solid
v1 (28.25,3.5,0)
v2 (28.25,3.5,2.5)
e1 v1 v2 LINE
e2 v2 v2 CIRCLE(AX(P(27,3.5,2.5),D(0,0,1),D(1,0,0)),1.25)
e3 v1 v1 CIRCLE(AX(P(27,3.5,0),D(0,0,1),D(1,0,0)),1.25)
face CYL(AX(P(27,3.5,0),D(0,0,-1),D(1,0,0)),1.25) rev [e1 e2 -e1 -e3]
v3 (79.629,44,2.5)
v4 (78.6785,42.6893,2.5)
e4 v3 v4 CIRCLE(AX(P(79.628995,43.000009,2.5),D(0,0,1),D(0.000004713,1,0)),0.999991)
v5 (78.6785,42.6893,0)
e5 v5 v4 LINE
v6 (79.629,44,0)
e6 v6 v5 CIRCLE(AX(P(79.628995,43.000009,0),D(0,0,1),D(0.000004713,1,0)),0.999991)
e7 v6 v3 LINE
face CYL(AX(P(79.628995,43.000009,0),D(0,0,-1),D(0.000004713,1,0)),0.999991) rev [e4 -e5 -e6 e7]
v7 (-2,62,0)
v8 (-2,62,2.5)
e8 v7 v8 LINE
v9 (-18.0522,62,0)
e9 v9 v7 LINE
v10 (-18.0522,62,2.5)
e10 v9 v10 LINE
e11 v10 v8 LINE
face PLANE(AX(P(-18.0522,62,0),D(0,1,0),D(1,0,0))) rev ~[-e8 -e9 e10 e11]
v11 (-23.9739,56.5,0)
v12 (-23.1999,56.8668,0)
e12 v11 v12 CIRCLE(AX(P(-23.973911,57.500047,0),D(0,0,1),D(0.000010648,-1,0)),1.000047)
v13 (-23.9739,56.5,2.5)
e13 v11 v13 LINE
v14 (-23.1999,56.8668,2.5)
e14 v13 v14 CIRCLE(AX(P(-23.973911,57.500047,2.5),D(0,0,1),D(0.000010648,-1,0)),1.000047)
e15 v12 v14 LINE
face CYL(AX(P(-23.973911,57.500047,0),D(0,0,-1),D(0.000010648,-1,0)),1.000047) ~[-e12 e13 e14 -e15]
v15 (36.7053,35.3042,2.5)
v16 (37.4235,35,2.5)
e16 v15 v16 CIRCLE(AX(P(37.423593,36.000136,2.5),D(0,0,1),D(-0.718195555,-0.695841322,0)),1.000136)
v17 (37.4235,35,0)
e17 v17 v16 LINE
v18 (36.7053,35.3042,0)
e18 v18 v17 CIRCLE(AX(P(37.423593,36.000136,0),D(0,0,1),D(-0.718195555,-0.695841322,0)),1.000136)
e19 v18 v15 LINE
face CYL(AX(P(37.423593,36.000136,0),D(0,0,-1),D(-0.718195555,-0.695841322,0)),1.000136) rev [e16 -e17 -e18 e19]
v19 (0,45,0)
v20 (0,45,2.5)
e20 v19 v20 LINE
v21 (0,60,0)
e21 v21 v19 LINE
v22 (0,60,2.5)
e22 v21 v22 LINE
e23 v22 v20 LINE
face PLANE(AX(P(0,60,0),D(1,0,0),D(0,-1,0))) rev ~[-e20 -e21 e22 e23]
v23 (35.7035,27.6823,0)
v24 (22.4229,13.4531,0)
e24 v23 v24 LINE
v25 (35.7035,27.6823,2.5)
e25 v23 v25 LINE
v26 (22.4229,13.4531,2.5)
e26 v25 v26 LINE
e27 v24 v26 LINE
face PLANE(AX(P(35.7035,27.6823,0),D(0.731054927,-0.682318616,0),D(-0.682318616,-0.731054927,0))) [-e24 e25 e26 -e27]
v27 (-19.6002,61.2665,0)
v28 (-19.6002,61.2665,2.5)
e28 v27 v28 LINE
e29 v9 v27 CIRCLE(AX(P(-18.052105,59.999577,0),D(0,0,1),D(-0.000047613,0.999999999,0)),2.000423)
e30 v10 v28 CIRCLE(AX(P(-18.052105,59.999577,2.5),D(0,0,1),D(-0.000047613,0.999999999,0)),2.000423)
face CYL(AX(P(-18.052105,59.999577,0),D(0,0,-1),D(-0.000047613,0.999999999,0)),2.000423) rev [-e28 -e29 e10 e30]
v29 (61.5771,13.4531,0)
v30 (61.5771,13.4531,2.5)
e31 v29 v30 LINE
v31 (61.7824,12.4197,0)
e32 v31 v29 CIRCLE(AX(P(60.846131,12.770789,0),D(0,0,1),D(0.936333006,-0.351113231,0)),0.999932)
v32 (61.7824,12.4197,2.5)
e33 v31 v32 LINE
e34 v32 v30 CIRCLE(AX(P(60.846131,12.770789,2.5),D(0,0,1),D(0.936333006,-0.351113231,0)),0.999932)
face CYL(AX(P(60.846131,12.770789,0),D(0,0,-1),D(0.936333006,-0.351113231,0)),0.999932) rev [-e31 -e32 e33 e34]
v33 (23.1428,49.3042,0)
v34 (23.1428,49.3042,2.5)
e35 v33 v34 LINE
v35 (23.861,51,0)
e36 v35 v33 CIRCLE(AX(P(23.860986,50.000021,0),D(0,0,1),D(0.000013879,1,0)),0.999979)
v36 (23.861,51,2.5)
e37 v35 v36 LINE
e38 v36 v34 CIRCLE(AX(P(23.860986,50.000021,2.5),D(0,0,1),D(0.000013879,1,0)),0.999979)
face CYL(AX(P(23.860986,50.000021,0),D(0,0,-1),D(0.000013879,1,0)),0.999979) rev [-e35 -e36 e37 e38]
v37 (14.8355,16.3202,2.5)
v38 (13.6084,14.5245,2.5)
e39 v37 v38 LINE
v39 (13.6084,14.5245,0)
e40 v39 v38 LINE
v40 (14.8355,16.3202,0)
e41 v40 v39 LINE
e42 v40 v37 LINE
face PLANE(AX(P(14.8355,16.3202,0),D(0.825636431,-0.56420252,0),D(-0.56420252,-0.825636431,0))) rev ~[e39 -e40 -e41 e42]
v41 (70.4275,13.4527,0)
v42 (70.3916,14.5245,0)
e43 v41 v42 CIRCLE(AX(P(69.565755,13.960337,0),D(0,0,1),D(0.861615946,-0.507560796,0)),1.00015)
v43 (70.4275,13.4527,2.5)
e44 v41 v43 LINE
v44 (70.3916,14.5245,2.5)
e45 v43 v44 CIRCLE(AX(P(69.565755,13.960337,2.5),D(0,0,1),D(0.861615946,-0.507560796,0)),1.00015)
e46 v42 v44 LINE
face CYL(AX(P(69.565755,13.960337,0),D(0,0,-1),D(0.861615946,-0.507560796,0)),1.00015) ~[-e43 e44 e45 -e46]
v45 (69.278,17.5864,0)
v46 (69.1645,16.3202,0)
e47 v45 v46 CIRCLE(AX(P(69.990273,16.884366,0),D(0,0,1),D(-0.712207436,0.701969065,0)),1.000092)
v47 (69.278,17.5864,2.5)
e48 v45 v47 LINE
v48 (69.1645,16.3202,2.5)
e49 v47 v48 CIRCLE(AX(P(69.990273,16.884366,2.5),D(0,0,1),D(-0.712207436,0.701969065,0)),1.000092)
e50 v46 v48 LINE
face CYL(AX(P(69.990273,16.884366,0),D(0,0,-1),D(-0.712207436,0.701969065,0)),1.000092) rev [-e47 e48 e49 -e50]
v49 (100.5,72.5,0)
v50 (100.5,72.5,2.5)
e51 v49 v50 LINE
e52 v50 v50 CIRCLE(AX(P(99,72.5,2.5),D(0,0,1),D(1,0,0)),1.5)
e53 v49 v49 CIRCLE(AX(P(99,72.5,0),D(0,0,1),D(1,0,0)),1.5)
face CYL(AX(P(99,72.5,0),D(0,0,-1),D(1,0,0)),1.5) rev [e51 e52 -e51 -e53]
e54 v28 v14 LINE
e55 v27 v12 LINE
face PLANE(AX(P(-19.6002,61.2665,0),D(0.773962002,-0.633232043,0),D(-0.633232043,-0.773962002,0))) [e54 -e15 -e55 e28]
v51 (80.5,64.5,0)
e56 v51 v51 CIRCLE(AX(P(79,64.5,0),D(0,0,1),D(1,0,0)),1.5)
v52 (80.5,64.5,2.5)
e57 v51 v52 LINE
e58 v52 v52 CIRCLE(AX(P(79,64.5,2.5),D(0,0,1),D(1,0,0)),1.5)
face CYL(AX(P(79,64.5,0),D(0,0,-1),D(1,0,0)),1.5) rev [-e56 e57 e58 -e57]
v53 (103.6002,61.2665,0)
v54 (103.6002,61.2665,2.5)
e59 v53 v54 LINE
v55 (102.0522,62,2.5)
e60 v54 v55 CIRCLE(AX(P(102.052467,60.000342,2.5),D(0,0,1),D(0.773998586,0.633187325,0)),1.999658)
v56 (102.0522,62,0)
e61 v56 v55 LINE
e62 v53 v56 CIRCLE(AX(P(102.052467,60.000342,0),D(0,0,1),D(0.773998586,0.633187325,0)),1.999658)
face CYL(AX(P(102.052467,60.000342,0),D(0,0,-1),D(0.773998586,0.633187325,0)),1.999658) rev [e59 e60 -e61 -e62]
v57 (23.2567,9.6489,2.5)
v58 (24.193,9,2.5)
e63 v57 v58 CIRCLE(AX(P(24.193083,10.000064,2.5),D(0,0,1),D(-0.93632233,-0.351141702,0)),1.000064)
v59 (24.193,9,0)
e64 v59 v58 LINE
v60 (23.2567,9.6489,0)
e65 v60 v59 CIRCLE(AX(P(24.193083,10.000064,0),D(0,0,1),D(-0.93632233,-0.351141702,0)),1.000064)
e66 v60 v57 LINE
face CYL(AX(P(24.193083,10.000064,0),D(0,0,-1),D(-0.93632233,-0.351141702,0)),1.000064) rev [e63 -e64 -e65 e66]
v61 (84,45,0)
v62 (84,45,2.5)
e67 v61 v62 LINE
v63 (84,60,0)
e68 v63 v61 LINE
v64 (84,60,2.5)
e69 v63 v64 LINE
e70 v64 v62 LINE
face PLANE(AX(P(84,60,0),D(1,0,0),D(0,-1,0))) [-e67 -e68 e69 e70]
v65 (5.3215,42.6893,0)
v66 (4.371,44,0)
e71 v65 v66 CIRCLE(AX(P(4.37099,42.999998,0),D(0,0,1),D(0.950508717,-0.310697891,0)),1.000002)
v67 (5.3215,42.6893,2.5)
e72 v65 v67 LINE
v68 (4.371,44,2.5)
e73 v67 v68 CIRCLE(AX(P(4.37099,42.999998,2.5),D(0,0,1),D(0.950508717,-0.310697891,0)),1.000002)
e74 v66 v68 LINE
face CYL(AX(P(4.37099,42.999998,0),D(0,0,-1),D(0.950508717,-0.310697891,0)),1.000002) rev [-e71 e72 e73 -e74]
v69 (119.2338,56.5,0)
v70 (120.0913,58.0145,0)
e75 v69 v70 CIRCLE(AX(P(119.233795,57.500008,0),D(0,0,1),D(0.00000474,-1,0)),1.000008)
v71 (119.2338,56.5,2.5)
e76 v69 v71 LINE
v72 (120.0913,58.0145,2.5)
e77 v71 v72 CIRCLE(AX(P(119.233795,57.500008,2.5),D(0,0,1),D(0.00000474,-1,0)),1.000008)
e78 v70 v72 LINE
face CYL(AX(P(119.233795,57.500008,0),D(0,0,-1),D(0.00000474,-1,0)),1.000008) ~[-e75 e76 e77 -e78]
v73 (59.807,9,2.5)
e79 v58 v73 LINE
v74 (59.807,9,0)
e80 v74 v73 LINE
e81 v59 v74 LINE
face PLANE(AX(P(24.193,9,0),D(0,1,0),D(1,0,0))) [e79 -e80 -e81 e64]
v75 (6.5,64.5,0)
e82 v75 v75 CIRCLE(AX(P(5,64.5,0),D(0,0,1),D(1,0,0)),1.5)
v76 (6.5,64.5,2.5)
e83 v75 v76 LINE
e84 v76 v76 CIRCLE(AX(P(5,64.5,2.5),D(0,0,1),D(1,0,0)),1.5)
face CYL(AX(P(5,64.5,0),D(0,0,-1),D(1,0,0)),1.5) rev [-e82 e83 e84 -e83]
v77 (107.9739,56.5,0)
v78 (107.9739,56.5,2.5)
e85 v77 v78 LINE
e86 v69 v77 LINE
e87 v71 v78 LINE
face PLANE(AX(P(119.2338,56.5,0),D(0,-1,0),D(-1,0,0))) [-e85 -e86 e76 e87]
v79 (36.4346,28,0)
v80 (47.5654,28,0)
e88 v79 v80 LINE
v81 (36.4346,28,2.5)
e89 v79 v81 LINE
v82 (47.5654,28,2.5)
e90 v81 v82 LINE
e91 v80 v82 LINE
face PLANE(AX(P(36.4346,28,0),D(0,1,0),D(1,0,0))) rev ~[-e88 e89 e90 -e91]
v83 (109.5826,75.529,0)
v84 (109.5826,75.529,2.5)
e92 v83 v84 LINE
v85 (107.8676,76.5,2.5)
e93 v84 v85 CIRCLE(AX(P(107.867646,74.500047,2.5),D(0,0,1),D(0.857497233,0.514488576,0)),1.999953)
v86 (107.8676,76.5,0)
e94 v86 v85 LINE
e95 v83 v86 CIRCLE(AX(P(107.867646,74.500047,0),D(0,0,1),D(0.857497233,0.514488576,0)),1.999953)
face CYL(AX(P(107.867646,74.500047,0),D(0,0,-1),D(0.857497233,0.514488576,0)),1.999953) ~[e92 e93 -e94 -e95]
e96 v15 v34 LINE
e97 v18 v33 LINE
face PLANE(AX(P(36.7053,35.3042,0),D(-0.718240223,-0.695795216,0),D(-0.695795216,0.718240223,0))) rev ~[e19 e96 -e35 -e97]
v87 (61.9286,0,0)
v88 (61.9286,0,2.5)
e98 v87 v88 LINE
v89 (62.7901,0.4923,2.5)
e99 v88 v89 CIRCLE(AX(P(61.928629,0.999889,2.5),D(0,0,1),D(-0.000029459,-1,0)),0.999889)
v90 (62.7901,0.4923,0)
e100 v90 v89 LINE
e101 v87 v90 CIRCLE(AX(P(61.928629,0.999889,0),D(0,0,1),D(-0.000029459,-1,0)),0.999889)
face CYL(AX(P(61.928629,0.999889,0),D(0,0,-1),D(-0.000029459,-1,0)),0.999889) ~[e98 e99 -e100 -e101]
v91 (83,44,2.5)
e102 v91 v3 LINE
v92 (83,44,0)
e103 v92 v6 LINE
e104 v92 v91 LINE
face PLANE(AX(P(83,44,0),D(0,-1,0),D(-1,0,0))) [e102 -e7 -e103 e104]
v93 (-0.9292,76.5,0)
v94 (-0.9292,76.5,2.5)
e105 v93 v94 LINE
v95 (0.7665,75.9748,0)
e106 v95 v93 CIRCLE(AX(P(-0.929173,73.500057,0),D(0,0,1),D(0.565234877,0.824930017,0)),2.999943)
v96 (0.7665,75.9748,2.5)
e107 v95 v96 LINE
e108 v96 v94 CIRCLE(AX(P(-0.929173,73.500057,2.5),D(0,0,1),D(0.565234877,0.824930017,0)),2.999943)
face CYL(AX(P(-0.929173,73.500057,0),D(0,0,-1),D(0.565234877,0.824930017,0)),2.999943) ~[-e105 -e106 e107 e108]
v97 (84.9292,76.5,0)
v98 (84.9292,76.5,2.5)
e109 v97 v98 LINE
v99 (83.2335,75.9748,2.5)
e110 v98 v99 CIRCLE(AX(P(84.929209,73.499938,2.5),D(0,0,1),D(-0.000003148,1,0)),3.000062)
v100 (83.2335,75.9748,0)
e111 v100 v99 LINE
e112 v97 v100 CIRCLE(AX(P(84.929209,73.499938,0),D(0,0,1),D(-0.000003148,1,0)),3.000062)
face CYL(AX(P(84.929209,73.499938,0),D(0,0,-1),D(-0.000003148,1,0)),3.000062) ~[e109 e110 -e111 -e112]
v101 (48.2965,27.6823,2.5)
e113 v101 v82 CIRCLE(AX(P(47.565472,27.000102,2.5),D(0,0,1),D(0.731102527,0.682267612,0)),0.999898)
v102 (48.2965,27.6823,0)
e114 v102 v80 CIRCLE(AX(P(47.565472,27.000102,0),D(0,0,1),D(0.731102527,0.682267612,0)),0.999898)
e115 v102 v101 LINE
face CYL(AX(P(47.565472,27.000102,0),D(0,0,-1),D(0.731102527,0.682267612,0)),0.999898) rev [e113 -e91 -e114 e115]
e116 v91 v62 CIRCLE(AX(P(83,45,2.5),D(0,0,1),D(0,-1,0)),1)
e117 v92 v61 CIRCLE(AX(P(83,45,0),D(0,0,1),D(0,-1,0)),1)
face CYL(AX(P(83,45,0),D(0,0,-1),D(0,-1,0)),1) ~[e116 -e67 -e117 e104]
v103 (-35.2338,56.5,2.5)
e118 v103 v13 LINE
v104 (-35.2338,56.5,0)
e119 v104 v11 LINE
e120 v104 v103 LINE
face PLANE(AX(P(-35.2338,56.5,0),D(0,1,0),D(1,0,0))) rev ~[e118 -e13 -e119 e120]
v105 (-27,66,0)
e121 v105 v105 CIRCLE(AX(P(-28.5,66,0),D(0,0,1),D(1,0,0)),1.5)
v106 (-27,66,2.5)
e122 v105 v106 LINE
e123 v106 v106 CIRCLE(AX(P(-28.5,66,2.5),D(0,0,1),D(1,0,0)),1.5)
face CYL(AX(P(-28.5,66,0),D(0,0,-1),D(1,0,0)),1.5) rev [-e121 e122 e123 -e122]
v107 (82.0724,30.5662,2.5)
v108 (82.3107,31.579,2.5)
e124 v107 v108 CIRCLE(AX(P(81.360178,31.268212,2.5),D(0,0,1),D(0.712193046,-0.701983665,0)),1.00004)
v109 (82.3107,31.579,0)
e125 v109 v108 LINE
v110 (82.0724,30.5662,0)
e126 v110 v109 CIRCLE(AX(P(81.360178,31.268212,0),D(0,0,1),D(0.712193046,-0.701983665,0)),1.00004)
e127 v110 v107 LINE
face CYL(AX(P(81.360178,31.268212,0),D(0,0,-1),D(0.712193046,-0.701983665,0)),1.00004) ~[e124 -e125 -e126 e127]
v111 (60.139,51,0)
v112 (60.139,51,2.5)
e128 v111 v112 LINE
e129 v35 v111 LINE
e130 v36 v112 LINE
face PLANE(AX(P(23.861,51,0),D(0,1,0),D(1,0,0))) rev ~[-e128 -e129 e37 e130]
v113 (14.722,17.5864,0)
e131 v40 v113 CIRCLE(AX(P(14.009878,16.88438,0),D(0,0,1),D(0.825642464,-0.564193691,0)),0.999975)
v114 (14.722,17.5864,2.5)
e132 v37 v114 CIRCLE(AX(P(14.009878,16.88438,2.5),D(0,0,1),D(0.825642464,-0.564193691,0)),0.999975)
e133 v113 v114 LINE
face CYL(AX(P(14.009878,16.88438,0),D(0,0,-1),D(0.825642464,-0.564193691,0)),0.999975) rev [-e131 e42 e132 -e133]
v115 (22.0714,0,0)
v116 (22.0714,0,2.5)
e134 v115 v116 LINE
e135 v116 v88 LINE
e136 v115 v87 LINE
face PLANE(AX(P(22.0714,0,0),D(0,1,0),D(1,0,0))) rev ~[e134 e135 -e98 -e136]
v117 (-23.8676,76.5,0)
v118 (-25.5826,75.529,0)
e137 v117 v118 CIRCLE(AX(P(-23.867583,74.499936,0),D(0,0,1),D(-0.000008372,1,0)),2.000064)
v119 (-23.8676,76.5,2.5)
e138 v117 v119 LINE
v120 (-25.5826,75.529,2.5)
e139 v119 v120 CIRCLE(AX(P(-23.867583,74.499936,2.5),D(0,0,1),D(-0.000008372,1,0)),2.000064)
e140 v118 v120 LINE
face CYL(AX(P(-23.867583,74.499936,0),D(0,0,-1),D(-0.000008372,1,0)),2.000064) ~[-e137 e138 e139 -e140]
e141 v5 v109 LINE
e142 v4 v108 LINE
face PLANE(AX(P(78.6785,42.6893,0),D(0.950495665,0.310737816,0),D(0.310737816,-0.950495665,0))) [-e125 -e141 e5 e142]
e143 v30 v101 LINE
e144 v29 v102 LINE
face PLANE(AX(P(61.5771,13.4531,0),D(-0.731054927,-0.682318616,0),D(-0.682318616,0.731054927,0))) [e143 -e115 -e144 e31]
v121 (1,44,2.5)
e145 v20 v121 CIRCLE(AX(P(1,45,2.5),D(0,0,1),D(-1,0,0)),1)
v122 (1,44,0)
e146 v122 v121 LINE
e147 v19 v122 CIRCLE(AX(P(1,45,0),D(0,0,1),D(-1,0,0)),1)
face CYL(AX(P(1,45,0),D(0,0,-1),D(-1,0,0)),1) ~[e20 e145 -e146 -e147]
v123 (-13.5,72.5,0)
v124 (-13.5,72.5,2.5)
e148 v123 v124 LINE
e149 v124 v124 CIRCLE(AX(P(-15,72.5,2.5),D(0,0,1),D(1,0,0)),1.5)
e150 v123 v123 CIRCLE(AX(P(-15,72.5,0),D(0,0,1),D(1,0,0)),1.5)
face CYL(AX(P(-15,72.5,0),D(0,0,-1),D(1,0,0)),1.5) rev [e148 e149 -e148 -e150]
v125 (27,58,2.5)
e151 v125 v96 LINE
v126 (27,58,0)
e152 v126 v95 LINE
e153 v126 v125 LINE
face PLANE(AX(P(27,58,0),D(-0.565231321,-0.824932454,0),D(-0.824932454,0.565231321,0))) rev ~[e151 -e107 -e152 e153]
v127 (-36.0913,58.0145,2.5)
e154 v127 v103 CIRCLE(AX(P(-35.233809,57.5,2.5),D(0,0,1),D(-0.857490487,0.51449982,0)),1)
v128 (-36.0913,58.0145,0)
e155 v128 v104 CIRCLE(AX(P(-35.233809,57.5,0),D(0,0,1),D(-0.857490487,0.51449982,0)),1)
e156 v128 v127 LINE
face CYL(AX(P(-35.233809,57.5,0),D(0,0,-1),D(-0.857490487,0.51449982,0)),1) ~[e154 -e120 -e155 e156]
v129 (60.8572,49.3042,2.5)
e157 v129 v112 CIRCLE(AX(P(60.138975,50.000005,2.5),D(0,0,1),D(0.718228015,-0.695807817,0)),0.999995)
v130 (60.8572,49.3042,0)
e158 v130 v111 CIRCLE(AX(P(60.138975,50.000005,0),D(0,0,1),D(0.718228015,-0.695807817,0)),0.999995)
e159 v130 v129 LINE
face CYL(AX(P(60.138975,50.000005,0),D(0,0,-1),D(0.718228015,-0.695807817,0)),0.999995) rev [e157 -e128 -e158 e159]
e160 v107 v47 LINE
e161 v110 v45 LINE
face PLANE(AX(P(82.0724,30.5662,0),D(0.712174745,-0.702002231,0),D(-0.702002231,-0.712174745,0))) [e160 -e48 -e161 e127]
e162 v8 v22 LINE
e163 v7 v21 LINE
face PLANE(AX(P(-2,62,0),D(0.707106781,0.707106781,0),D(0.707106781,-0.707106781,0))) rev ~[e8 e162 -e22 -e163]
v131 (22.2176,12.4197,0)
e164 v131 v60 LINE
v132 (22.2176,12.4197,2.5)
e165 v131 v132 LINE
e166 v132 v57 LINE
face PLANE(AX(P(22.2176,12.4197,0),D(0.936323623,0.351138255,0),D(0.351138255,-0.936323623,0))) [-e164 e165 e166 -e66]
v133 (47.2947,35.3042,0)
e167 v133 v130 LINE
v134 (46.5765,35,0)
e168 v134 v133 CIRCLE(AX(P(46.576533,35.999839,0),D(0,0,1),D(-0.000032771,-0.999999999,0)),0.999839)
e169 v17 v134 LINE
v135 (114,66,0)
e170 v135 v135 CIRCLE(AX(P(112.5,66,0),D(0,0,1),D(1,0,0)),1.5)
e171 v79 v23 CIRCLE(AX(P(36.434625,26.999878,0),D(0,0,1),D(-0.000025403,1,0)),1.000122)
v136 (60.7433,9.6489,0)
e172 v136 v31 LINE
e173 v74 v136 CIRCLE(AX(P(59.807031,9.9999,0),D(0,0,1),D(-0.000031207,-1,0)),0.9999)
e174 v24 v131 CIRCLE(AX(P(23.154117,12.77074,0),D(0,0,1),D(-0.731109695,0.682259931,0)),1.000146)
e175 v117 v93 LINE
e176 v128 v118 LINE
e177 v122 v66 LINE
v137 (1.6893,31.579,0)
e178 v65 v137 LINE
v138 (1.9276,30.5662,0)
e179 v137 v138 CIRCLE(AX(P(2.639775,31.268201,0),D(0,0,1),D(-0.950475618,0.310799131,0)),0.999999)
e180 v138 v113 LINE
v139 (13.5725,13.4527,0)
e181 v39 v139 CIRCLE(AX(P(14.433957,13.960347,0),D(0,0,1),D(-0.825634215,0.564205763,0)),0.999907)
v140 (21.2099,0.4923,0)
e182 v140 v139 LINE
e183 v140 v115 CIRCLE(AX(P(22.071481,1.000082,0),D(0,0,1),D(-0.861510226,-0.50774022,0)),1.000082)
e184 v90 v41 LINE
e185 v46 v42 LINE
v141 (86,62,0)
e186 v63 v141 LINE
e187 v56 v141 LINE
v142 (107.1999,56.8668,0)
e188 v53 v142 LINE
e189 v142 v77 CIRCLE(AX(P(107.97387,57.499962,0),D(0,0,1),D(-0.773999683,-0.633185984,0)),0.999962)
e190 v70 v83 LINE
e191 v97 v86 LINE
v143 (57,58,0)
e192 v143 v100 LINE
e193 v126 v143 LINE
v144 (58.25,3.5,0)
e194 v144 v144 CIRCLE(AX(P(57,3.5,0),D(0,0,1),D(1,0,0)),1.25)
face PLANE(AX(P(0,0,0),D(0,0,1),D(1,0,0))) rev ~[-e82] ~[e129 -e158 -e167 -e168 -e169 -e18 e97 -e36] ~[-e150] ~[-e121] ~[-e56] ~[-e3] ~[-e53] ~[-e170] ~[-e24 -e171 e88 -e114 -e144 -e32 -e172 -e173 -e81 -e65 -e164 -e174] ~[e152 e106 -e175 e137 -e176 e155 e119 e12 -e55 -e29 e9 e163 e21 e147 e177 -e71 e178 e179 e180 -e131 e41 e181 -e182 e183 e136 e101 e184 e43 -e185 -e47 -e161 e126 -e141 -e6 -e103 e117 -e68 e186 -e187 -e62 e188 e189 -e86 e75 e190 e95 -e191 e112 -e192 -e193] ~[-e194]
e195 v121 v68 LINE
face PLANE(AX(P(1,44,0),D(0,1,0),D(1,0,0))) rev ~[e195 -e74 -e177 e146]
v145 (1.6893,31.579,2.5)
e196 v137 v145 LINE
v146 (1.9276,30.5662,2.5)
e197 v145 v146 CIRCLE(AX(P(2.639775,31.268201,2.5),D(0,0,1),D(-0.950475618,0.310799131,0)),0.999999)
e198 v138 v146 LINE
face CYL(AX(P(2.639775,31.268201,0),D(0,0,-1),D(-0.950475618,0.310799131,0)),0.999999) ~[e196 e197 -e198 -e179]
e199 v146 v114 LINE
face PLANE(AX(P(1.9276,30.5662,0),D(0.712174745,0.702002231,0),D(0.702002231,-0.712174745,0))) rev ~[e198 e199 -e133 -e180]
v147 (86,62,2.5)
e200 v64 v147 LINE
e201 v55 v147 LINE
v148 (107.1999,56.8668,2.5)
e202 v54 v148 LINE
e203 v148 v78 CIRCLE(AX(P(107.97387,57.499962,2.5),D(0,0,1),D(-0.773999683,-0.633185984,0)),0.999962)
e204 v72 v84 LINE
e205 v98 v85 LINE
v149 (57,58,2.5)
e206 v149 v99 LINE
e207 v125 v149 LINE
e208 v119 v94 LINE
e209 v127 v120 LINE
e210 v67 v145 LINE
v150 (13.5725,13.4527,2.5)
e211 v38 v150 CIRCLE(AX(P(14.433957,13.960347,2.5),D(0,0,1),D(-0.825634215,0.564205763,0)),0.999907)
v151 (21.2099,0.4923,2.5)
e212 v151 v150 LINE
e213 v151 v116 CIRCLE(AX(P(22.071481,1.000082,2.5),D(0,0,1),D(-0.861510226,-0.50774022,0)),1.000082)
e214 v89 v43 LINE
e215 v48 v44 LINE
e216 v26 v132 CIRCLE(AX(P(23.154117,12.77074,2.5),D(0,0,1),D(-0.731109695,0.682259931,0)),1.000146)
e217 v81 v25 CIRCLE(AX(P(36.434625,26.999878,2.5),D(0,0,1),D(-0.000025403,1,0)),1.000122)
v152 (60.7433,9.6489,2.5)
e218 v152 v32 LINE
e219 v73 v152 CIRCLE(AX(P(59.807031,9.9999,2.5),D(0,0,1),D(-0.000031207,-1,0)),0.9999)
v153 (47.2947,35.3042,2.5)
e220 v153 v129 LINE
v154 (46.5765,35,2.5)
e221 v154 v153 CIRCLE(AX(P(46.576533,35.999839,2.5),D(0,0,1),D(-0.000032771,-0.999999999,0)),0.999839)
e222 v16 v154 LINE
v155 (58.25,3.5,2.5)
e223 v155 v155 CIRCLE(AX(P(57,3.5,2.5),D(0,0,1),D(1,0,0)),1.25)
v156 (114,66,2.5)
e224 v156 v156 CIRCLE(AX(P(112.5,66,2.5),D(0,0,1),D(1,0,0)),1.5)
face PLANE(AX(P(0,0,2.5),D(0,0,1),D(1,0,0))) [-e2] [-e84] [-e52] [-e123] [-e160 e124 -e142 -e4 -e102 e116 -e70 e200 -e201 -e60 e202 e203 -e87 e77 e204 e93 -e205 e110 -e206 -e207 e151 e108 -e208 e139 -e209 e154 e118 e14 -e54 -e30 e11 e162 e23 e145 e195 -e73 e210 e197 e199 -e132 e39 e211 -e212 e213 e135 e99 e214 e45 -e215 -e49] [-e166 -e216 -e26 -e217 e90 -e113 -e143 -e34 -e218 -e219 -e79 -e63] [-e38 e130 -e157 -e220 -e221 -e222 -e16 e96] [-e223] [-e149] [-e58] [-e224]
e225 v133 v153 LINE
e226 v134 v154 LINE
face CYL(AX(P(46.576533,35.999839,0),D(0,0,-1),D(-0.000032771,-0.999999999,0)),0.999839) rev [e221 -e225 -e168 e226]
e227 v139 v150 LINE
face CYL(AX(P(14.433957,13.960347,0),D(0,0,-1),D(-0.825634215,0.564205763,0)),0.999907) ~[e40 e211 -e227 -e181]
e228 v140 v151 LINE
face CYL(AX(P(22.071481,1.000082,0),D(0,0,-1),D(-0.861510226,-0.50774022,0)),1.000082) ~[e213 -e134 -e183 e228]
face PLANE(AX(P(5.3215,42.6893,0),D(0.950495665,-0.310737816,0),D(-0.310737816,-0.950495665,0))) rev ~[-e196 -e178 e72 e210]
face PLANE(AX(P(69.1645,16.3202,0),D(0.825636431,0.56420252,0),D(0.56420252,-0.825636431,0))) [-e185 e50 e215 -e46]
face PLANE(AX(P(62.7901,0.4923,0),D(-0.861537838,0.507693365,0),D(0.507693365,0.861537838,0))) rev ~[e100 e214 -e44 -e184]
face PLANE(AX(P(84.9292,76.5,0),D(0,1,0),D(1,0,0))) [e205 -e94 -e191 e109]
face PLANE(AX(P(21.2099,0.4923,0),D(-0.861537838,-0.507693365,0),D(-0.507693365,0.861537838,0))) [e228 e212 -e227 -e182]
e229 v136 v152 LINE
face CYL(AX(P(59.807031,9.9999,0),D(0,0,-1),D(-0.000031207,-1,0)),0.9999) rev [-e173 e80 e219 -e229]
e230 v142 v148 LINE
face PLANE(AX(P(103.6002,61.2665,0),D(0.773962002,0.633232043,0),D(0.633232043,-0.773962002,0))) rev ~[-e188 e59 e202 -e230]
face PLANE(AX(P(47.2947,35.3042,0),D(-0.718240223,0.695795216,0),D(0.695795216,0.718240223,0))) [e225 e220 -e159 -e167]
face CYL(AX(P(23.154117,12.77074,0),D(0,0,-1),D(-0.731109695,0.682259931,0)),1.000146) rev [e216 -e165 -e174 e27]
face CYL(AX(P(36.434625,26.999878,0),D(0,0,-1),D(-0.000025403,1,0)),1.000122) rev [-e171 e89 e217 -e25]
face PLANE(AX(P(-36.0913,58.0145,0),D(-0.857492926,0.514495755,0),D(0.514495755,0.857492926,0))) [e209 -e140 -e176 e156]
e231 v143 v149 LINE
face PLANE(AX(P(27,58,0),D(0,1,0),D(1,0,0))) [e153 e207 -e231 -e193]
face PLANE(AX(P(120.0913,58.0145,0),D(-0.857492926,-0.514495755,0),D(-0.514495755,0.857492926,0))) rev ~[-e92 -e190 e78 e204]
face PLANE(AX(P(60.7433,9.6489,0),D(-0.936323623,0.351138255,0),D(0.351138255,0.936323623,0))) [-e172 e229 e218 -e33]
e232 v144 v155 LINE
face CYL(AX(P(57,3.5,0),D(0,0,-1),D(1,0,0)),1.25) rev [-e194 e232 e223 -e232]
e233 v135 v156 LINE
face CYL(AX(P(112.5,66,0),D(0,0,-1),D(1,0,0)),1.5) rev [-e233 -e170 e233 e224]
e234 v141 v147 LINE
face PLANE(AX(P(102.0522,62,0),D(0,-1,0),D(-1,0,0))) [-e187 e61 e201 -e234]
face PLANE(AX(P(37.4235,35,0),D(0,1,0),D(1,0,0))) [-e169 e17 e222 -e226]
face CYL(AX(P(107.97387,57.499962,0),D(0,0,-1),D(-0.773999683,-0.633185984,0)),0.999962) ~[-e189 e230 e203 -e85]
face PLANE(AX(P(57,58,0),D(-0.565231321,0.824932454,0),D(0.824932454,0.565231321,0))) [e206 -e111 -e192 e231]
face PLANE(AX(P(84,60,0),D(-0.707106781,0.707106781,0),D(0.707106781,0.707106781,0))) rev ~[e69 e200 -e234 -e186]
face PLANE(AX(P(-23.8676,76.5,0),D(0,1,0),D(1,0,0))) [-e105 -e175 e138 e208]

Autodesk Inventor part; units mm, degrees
ref_plane "YZ Plane" through (0, 0, 0) normal (1, 0, 0) x (0, 1, 0)
ref_plane "XZ Plane" through (0, 0, 0) normal (0, 1, 0) x (-1, 0, 0)
ref_plane "XY Plane" through (0, 0, 0) normal (0, 0, 1) x (1, 0, 0)
sketch "Sketch1" plane through (0, 0, 0) normal (0, 0, 1) x (1, 0, 0)
  line L0 (0, 76.5) -> (84, 76.5) construction
  line L1 (84, 76.5) -> (84, 0) construction
  line L2 (84, 0) -> (0, 0) construction
  line L3 (0, 0) -> (0, 76.5) construction
  line L4 (-37, 76.5) -> (0, 76.5) construction
  line L5 (0, 76.5) -> (0, 62) construction
  line L6 (0, 62) -> (-37, 62) construction
  line L7 (-37, 62) -> (-37, 76.5) construction
  line L8 (84, 76.5) -> (121, 76.5) construction
  line L9 (121, 76.5) -> (121, 62) construction
  line L10 (121, 62) -> (84, 62) construction
  line L11 (84, 62) -> (84, 76.5) construction
  line L12 (27, 58) -> (57, 58)
  line L13 (27, 58) -> (0.7665, 75.9748)
  line L14 (57, 58) -> (83.2335, 75.9748)
  line L15 (13.25, 14) -> (70.75, 14) construction
  line L16 (0, 76.5) -> (-25, 76.5) construction
  line L17 (-37, 76.5) -> (-37, 56.5) construction
  line L18 (-36.0913, 58.0145) -> (-25.5826, 75.529)
  line L19 (-35.2338, 56.5) -> (-23.9739, 56.5)
  line L20 (0, 62) -> (-19, 62) construction
  line L21 (-19.6002, 61.2665) -> (-23.1999, 56.8668)
  line L22 (0, 44) -> (84, 44) construction
  line L23 (1, 44) -> (4.371, 44)
  line L24 (83, 44) -> (79.629, 44)
  line L25 (1.5, 31) -> (82.5, 31) construction
  line L26 (5.3215, 42.6893) -> (1.6893, 31.579)
  line L27 (78.6785, 42.6893) -> (82.3107, 31.579)
  line L28 (15.3, 17) -> (68.7, 17) construction
  line L29 (82.0724, 30.5662) -> (69.278, 17.5864)
  line L30 (1.9276, 30.5662) -> (14.722, 17.5864)
  line L31 (69.1645, 16.3202) -> (70.3916, 14.5245)
  line L32 (14.8355, 16.3202) -> (13.6084, 14.5245)
  line L33 (21.5, 0) -> (62.5, 0) construction
  line L34 (21.2099, 0.4923) -> (13.5725, 13.4527)
  line L35 (62.7901, 0.4923) -> (70.4275, 13.4527)
  line L36 (84, 76.5) -> (109, 76.5) construction
  line L37 (121, 76.5) -> (121, 56.5) construction
  line L38 (120.0913, 58.0145) -> (109.5826, 75.529)
  line L39 (119.2338, 56.5) -> (107.9739, 56.5)
  line L40 (84, 62) -> (103, 62) construction
  line L41 (103.6002, 61.2665) -> (107.1999, 56.8668)
  line L42 (-23.8676, 76.5) -> (-0.9292, 76.5)
  line L43 (84.9292, 76.5) -> (107.8676, 76.5)
  line L44 (-18.0522, 62) -> (-2, 62)
  line L45 (102.0522, 62) -> (86, 62)
  line L46 (0, 60) -> (0, 45)
  line L47 (84, 60) -> (84, 45)
  line L48 (22.0714, 0) -> (61.9286, 0)
  line L49 (23.861, 51) -> (60.139, 51)
  line L50 (37.4235, 35) -> (46.5765, 35)
  line L51 (47.2947, 35.3042) -> (60.8572, 49.3042)
  line L52 (36.7053, 35.3042) -> (23.1428, 49.3042)
  line L53 (36.4346, 28) -> (47.5654, 28)
  line L54 (22, 13) -> (62, 13) construction
  line L55 (24.193, 9) -> (59.807, 9)
  line L56 (60.7433, 9.6489) -> (61.7824, 12.4197)
  line L57 (61.5771, 13.4531) -> (48.2965, 27.6823)
  line L58 (35.7035, 27.6823) -> (22.4229, 13.4531)
  line L59 (22.2176, 12.4197) -> (23.2567, 9.6489)
  line L60 (-28.5, 66) -> (112.5, 66) construction
  line L61 (-15, 72.5) -> (99, 72.5) construction
  line L62 (27, 3.5) -> (57, 3.5) construction
  arc A0 (0.7665, 75.9748) -> (-0.9292, 76.5) centre (-0.9292, 73.5) ccw
  arc A1 (84.9292, 76.5) -> (83.2335, 75.9748) centre (84.9292, 73.5) ccw
  arc A2 (-23.8676, 76.5) -> (-25.5826, 75.529) centre (-23.8676, 74.5) ccw
  arc A3 (109.5826, 75.529) -> (107.8676, 76.5) centre (107.8676, 74.5) ccw
  arc A4 (119.2338, 56.5) -> (120.0913, 58.0145) centre (119.2338, 57.5) ccw
  arc A5 (-36.0913, 58.0145) -> (-35.2338, 56.5) centre (-35.2338, 57.5) ccw
  arc A6 (-23.9739, 56.5) -> (-23.1999, 56.8668) centre (-23.9739, 57.5) ccw
  arc A7 (107.1999, 56.8668) -> (107.9739, 56.5) centre (107.9739, 57.5) ccw
  arc A8 (103.6002, 61.2665) -> (102.0522, 62) centre (102.0522, 60) ccw
  arc A9 (-18.0522, 62) -> (-19.6002, 61.2665) centre (-18.0522, 60) ccw
  line L63 (-2, 62) -> (0, 60)
  line L64 (84, 60) -> (86, 62)
  arc A10 (0, 45) -> (1, 44) centre (1, 45) ccw
  arc A11 (83, 44) -> (84, 45) centre (83, 45) ccw
  arc A12 (79.629, 44) -> (78.6785, 42.6893) centre (79.629, 43) ccw
  arc A13 (5.3215, 42.6893) -> (4.371, 44) centre (4.371, 43) ccw
  arc A14 (1.6893, 31.579) -> (1.9276, 30.5662) centre (2.6398, 31.2682) ccw
  arc A15 (82.0724, 30.5662) -> (82.3107, 31.579) centre (81.3602, 31.2682) ccw
  arc A16 (69.278, 17.5864) -> (69.1645, 16.3202) centre (69.9902, 16.8844) ccw
  arc A17 (70.4275, 13.4527) -> (70.3916, 14.5245) centre (69.5659, 13.9603) ccw
  arc A18 (61.9286, 0) -> (62.7901, 0.4923) centre (61.9286, 1) ccw
  arc A19 (21.2099, 0.4923) -> (22.0714, 0) centre (22.0714, 1) ccw
  arc A20 (13.6084, 14.5245) -> (13.5725, 13.4527) centre (14.4341, 13.9603) ccw
  arc A21 (14.8355, 16.3202) -> (14.722, 17.5864) centre (14.0098, 16.8844) ccw
  arc A22 (23.2567, 9.6489) -> (24.193, 9) centre (24.193, 10) ccw
  arc A23 (22.4229, 13.4531) -> (22.2176, 12.4197) centre (23.154, 12.7708) ccw
  arc A24 (36.4346, 28) -> (35.7035, 27.6823) centre (36.4346, 27) ccw
  arc A25 (48.2965, 27.6823) -> (47.5654, 28) centre (47.5654, 27) ccw
  arc A26 (61.7824, 12.4197) -> (61.5771, 13.4531) centre (60.846, 12.7708) ccw
  arc A27 (59.807, 9) -> (60.7433, 9.6489) centre (59.807, 10) ccw
  arc A28 (23.861, 51) -> (23.1428, 49.3042) centre (23.861, 50) ccw
  arc A29 (60.8572, 49.3042) -> (60.139, 51) centre (60.139, 50) ccw
  arc A30 (46.5765, 35) -> (47.2947, 35.3042) centre (46.5765, 36) ccw
  arc A31 (36.7053, 35.3042) -> (37.4235, 35) centre (37.4235, 36) ccw
  circle A32 centre (-15, 72.5) radius 1.5
  circle A33 centre (-28.5, 66) radius 1.5
  circle A34 centre (112.5, 66) radius 1.5
  circle A35 centre (99, 72.5) radius 1.5
  circle A36 centre (57, 3.5) radius 1.25
  circle A37 centre (27, 3.5) radius 1.25
  line L65 (5, 64.5) -> (79, 64.5) construction
  circle A38 centre (5, 64.5) radius 1.5
  circle A39 centre (79, 64.5) radius 1.5
  point P0 (-23.5, 56.5)
  point P1 (5.75, 44)
  point P2 (78.25, 44)
  point P3 (107.5, 56.5)
  point P4 (21.5, 51)
  point P5 (62.5, 51)
  point P6 (37, 35)
  point P7 (47, 35)
  point P8 (36, 28)
  point P9 (48, 28)
  point P10 (23.5, 9)
  point P11 (60.5, 9)
  dimension "d0" = 84
  dimension "d1" = 76.5
  dimension "d2" = 37
  dimension "d3" = 14.5
  dimension "d4" = 14.5
  dimension "d5" = 37
  dimension "d7" = 30
  dimension "d8" = 27
  dimension "d9" = 58
  dimension "d10" = 57.5
  dimension "d11" = 13.25
  dimension "d12" = 14
  dimension "d13" = 25
  dimension "d14" = 20
  dimension "d15" = 13.5
  dimension "d16" = 19
  dimension "d17" = 18
  dimension "d18" = 5.75
  dimension "d19" = 5.75
  dimension "d20" = 81
  dimension "d21" = 13
  dimension "d22" = 1.5
  dimension "d23" = 53.4
  dimension "d24" = 14
  dimension "d25" = 15.3
  dimension "d26" = 41
  dimension "d27" = 21.5
  dimension "d28" = 25
  dimension "d29" = 20
  dimension "d30" = 13.5
  dimension "d31" = 19
  dimension "d32" = 41
  dimension "d33" = 21.5
  dimension "d34" = 7
  dimension "d35" = 10
  dimension "d36" = 23
  dimension "d37" = 37
  dimension "d38" = 12
  dimension "d39" = 28
  dimension "d40" = 36
  dimension "d41" = 40
  dimension "d42" = 13
  dimension "d43" = 22
  dimension "d44" = 37
  dimension "d45" = 9
  dimension "d46" = 23.5
  dimension "d47" = 141
  dimension "d48" = 10.5
  dimension "d49" = 8.5
  dimension "d50" = 114
  dimension "d51" = 4
  dimension "d52" = 22
  dimension "d53" = 30
  dimension "d54" = 3.5
  dimension "d55" = 27
  dimension "d56" = 3
  dimension "d57" = 3
  dimension "d58" = 2
  dimension "d59" = 2
  dimension "d60" = 1
  dimension "d61" = 1
  dimension "d62" = 1
  dimension "d63" = 1
  dimension "d64" = 2
extrude "Extrusion3" add sketch "Sketch1" along normal blind 2.5
properties part number "RCT-H001_Al_side_plate"
